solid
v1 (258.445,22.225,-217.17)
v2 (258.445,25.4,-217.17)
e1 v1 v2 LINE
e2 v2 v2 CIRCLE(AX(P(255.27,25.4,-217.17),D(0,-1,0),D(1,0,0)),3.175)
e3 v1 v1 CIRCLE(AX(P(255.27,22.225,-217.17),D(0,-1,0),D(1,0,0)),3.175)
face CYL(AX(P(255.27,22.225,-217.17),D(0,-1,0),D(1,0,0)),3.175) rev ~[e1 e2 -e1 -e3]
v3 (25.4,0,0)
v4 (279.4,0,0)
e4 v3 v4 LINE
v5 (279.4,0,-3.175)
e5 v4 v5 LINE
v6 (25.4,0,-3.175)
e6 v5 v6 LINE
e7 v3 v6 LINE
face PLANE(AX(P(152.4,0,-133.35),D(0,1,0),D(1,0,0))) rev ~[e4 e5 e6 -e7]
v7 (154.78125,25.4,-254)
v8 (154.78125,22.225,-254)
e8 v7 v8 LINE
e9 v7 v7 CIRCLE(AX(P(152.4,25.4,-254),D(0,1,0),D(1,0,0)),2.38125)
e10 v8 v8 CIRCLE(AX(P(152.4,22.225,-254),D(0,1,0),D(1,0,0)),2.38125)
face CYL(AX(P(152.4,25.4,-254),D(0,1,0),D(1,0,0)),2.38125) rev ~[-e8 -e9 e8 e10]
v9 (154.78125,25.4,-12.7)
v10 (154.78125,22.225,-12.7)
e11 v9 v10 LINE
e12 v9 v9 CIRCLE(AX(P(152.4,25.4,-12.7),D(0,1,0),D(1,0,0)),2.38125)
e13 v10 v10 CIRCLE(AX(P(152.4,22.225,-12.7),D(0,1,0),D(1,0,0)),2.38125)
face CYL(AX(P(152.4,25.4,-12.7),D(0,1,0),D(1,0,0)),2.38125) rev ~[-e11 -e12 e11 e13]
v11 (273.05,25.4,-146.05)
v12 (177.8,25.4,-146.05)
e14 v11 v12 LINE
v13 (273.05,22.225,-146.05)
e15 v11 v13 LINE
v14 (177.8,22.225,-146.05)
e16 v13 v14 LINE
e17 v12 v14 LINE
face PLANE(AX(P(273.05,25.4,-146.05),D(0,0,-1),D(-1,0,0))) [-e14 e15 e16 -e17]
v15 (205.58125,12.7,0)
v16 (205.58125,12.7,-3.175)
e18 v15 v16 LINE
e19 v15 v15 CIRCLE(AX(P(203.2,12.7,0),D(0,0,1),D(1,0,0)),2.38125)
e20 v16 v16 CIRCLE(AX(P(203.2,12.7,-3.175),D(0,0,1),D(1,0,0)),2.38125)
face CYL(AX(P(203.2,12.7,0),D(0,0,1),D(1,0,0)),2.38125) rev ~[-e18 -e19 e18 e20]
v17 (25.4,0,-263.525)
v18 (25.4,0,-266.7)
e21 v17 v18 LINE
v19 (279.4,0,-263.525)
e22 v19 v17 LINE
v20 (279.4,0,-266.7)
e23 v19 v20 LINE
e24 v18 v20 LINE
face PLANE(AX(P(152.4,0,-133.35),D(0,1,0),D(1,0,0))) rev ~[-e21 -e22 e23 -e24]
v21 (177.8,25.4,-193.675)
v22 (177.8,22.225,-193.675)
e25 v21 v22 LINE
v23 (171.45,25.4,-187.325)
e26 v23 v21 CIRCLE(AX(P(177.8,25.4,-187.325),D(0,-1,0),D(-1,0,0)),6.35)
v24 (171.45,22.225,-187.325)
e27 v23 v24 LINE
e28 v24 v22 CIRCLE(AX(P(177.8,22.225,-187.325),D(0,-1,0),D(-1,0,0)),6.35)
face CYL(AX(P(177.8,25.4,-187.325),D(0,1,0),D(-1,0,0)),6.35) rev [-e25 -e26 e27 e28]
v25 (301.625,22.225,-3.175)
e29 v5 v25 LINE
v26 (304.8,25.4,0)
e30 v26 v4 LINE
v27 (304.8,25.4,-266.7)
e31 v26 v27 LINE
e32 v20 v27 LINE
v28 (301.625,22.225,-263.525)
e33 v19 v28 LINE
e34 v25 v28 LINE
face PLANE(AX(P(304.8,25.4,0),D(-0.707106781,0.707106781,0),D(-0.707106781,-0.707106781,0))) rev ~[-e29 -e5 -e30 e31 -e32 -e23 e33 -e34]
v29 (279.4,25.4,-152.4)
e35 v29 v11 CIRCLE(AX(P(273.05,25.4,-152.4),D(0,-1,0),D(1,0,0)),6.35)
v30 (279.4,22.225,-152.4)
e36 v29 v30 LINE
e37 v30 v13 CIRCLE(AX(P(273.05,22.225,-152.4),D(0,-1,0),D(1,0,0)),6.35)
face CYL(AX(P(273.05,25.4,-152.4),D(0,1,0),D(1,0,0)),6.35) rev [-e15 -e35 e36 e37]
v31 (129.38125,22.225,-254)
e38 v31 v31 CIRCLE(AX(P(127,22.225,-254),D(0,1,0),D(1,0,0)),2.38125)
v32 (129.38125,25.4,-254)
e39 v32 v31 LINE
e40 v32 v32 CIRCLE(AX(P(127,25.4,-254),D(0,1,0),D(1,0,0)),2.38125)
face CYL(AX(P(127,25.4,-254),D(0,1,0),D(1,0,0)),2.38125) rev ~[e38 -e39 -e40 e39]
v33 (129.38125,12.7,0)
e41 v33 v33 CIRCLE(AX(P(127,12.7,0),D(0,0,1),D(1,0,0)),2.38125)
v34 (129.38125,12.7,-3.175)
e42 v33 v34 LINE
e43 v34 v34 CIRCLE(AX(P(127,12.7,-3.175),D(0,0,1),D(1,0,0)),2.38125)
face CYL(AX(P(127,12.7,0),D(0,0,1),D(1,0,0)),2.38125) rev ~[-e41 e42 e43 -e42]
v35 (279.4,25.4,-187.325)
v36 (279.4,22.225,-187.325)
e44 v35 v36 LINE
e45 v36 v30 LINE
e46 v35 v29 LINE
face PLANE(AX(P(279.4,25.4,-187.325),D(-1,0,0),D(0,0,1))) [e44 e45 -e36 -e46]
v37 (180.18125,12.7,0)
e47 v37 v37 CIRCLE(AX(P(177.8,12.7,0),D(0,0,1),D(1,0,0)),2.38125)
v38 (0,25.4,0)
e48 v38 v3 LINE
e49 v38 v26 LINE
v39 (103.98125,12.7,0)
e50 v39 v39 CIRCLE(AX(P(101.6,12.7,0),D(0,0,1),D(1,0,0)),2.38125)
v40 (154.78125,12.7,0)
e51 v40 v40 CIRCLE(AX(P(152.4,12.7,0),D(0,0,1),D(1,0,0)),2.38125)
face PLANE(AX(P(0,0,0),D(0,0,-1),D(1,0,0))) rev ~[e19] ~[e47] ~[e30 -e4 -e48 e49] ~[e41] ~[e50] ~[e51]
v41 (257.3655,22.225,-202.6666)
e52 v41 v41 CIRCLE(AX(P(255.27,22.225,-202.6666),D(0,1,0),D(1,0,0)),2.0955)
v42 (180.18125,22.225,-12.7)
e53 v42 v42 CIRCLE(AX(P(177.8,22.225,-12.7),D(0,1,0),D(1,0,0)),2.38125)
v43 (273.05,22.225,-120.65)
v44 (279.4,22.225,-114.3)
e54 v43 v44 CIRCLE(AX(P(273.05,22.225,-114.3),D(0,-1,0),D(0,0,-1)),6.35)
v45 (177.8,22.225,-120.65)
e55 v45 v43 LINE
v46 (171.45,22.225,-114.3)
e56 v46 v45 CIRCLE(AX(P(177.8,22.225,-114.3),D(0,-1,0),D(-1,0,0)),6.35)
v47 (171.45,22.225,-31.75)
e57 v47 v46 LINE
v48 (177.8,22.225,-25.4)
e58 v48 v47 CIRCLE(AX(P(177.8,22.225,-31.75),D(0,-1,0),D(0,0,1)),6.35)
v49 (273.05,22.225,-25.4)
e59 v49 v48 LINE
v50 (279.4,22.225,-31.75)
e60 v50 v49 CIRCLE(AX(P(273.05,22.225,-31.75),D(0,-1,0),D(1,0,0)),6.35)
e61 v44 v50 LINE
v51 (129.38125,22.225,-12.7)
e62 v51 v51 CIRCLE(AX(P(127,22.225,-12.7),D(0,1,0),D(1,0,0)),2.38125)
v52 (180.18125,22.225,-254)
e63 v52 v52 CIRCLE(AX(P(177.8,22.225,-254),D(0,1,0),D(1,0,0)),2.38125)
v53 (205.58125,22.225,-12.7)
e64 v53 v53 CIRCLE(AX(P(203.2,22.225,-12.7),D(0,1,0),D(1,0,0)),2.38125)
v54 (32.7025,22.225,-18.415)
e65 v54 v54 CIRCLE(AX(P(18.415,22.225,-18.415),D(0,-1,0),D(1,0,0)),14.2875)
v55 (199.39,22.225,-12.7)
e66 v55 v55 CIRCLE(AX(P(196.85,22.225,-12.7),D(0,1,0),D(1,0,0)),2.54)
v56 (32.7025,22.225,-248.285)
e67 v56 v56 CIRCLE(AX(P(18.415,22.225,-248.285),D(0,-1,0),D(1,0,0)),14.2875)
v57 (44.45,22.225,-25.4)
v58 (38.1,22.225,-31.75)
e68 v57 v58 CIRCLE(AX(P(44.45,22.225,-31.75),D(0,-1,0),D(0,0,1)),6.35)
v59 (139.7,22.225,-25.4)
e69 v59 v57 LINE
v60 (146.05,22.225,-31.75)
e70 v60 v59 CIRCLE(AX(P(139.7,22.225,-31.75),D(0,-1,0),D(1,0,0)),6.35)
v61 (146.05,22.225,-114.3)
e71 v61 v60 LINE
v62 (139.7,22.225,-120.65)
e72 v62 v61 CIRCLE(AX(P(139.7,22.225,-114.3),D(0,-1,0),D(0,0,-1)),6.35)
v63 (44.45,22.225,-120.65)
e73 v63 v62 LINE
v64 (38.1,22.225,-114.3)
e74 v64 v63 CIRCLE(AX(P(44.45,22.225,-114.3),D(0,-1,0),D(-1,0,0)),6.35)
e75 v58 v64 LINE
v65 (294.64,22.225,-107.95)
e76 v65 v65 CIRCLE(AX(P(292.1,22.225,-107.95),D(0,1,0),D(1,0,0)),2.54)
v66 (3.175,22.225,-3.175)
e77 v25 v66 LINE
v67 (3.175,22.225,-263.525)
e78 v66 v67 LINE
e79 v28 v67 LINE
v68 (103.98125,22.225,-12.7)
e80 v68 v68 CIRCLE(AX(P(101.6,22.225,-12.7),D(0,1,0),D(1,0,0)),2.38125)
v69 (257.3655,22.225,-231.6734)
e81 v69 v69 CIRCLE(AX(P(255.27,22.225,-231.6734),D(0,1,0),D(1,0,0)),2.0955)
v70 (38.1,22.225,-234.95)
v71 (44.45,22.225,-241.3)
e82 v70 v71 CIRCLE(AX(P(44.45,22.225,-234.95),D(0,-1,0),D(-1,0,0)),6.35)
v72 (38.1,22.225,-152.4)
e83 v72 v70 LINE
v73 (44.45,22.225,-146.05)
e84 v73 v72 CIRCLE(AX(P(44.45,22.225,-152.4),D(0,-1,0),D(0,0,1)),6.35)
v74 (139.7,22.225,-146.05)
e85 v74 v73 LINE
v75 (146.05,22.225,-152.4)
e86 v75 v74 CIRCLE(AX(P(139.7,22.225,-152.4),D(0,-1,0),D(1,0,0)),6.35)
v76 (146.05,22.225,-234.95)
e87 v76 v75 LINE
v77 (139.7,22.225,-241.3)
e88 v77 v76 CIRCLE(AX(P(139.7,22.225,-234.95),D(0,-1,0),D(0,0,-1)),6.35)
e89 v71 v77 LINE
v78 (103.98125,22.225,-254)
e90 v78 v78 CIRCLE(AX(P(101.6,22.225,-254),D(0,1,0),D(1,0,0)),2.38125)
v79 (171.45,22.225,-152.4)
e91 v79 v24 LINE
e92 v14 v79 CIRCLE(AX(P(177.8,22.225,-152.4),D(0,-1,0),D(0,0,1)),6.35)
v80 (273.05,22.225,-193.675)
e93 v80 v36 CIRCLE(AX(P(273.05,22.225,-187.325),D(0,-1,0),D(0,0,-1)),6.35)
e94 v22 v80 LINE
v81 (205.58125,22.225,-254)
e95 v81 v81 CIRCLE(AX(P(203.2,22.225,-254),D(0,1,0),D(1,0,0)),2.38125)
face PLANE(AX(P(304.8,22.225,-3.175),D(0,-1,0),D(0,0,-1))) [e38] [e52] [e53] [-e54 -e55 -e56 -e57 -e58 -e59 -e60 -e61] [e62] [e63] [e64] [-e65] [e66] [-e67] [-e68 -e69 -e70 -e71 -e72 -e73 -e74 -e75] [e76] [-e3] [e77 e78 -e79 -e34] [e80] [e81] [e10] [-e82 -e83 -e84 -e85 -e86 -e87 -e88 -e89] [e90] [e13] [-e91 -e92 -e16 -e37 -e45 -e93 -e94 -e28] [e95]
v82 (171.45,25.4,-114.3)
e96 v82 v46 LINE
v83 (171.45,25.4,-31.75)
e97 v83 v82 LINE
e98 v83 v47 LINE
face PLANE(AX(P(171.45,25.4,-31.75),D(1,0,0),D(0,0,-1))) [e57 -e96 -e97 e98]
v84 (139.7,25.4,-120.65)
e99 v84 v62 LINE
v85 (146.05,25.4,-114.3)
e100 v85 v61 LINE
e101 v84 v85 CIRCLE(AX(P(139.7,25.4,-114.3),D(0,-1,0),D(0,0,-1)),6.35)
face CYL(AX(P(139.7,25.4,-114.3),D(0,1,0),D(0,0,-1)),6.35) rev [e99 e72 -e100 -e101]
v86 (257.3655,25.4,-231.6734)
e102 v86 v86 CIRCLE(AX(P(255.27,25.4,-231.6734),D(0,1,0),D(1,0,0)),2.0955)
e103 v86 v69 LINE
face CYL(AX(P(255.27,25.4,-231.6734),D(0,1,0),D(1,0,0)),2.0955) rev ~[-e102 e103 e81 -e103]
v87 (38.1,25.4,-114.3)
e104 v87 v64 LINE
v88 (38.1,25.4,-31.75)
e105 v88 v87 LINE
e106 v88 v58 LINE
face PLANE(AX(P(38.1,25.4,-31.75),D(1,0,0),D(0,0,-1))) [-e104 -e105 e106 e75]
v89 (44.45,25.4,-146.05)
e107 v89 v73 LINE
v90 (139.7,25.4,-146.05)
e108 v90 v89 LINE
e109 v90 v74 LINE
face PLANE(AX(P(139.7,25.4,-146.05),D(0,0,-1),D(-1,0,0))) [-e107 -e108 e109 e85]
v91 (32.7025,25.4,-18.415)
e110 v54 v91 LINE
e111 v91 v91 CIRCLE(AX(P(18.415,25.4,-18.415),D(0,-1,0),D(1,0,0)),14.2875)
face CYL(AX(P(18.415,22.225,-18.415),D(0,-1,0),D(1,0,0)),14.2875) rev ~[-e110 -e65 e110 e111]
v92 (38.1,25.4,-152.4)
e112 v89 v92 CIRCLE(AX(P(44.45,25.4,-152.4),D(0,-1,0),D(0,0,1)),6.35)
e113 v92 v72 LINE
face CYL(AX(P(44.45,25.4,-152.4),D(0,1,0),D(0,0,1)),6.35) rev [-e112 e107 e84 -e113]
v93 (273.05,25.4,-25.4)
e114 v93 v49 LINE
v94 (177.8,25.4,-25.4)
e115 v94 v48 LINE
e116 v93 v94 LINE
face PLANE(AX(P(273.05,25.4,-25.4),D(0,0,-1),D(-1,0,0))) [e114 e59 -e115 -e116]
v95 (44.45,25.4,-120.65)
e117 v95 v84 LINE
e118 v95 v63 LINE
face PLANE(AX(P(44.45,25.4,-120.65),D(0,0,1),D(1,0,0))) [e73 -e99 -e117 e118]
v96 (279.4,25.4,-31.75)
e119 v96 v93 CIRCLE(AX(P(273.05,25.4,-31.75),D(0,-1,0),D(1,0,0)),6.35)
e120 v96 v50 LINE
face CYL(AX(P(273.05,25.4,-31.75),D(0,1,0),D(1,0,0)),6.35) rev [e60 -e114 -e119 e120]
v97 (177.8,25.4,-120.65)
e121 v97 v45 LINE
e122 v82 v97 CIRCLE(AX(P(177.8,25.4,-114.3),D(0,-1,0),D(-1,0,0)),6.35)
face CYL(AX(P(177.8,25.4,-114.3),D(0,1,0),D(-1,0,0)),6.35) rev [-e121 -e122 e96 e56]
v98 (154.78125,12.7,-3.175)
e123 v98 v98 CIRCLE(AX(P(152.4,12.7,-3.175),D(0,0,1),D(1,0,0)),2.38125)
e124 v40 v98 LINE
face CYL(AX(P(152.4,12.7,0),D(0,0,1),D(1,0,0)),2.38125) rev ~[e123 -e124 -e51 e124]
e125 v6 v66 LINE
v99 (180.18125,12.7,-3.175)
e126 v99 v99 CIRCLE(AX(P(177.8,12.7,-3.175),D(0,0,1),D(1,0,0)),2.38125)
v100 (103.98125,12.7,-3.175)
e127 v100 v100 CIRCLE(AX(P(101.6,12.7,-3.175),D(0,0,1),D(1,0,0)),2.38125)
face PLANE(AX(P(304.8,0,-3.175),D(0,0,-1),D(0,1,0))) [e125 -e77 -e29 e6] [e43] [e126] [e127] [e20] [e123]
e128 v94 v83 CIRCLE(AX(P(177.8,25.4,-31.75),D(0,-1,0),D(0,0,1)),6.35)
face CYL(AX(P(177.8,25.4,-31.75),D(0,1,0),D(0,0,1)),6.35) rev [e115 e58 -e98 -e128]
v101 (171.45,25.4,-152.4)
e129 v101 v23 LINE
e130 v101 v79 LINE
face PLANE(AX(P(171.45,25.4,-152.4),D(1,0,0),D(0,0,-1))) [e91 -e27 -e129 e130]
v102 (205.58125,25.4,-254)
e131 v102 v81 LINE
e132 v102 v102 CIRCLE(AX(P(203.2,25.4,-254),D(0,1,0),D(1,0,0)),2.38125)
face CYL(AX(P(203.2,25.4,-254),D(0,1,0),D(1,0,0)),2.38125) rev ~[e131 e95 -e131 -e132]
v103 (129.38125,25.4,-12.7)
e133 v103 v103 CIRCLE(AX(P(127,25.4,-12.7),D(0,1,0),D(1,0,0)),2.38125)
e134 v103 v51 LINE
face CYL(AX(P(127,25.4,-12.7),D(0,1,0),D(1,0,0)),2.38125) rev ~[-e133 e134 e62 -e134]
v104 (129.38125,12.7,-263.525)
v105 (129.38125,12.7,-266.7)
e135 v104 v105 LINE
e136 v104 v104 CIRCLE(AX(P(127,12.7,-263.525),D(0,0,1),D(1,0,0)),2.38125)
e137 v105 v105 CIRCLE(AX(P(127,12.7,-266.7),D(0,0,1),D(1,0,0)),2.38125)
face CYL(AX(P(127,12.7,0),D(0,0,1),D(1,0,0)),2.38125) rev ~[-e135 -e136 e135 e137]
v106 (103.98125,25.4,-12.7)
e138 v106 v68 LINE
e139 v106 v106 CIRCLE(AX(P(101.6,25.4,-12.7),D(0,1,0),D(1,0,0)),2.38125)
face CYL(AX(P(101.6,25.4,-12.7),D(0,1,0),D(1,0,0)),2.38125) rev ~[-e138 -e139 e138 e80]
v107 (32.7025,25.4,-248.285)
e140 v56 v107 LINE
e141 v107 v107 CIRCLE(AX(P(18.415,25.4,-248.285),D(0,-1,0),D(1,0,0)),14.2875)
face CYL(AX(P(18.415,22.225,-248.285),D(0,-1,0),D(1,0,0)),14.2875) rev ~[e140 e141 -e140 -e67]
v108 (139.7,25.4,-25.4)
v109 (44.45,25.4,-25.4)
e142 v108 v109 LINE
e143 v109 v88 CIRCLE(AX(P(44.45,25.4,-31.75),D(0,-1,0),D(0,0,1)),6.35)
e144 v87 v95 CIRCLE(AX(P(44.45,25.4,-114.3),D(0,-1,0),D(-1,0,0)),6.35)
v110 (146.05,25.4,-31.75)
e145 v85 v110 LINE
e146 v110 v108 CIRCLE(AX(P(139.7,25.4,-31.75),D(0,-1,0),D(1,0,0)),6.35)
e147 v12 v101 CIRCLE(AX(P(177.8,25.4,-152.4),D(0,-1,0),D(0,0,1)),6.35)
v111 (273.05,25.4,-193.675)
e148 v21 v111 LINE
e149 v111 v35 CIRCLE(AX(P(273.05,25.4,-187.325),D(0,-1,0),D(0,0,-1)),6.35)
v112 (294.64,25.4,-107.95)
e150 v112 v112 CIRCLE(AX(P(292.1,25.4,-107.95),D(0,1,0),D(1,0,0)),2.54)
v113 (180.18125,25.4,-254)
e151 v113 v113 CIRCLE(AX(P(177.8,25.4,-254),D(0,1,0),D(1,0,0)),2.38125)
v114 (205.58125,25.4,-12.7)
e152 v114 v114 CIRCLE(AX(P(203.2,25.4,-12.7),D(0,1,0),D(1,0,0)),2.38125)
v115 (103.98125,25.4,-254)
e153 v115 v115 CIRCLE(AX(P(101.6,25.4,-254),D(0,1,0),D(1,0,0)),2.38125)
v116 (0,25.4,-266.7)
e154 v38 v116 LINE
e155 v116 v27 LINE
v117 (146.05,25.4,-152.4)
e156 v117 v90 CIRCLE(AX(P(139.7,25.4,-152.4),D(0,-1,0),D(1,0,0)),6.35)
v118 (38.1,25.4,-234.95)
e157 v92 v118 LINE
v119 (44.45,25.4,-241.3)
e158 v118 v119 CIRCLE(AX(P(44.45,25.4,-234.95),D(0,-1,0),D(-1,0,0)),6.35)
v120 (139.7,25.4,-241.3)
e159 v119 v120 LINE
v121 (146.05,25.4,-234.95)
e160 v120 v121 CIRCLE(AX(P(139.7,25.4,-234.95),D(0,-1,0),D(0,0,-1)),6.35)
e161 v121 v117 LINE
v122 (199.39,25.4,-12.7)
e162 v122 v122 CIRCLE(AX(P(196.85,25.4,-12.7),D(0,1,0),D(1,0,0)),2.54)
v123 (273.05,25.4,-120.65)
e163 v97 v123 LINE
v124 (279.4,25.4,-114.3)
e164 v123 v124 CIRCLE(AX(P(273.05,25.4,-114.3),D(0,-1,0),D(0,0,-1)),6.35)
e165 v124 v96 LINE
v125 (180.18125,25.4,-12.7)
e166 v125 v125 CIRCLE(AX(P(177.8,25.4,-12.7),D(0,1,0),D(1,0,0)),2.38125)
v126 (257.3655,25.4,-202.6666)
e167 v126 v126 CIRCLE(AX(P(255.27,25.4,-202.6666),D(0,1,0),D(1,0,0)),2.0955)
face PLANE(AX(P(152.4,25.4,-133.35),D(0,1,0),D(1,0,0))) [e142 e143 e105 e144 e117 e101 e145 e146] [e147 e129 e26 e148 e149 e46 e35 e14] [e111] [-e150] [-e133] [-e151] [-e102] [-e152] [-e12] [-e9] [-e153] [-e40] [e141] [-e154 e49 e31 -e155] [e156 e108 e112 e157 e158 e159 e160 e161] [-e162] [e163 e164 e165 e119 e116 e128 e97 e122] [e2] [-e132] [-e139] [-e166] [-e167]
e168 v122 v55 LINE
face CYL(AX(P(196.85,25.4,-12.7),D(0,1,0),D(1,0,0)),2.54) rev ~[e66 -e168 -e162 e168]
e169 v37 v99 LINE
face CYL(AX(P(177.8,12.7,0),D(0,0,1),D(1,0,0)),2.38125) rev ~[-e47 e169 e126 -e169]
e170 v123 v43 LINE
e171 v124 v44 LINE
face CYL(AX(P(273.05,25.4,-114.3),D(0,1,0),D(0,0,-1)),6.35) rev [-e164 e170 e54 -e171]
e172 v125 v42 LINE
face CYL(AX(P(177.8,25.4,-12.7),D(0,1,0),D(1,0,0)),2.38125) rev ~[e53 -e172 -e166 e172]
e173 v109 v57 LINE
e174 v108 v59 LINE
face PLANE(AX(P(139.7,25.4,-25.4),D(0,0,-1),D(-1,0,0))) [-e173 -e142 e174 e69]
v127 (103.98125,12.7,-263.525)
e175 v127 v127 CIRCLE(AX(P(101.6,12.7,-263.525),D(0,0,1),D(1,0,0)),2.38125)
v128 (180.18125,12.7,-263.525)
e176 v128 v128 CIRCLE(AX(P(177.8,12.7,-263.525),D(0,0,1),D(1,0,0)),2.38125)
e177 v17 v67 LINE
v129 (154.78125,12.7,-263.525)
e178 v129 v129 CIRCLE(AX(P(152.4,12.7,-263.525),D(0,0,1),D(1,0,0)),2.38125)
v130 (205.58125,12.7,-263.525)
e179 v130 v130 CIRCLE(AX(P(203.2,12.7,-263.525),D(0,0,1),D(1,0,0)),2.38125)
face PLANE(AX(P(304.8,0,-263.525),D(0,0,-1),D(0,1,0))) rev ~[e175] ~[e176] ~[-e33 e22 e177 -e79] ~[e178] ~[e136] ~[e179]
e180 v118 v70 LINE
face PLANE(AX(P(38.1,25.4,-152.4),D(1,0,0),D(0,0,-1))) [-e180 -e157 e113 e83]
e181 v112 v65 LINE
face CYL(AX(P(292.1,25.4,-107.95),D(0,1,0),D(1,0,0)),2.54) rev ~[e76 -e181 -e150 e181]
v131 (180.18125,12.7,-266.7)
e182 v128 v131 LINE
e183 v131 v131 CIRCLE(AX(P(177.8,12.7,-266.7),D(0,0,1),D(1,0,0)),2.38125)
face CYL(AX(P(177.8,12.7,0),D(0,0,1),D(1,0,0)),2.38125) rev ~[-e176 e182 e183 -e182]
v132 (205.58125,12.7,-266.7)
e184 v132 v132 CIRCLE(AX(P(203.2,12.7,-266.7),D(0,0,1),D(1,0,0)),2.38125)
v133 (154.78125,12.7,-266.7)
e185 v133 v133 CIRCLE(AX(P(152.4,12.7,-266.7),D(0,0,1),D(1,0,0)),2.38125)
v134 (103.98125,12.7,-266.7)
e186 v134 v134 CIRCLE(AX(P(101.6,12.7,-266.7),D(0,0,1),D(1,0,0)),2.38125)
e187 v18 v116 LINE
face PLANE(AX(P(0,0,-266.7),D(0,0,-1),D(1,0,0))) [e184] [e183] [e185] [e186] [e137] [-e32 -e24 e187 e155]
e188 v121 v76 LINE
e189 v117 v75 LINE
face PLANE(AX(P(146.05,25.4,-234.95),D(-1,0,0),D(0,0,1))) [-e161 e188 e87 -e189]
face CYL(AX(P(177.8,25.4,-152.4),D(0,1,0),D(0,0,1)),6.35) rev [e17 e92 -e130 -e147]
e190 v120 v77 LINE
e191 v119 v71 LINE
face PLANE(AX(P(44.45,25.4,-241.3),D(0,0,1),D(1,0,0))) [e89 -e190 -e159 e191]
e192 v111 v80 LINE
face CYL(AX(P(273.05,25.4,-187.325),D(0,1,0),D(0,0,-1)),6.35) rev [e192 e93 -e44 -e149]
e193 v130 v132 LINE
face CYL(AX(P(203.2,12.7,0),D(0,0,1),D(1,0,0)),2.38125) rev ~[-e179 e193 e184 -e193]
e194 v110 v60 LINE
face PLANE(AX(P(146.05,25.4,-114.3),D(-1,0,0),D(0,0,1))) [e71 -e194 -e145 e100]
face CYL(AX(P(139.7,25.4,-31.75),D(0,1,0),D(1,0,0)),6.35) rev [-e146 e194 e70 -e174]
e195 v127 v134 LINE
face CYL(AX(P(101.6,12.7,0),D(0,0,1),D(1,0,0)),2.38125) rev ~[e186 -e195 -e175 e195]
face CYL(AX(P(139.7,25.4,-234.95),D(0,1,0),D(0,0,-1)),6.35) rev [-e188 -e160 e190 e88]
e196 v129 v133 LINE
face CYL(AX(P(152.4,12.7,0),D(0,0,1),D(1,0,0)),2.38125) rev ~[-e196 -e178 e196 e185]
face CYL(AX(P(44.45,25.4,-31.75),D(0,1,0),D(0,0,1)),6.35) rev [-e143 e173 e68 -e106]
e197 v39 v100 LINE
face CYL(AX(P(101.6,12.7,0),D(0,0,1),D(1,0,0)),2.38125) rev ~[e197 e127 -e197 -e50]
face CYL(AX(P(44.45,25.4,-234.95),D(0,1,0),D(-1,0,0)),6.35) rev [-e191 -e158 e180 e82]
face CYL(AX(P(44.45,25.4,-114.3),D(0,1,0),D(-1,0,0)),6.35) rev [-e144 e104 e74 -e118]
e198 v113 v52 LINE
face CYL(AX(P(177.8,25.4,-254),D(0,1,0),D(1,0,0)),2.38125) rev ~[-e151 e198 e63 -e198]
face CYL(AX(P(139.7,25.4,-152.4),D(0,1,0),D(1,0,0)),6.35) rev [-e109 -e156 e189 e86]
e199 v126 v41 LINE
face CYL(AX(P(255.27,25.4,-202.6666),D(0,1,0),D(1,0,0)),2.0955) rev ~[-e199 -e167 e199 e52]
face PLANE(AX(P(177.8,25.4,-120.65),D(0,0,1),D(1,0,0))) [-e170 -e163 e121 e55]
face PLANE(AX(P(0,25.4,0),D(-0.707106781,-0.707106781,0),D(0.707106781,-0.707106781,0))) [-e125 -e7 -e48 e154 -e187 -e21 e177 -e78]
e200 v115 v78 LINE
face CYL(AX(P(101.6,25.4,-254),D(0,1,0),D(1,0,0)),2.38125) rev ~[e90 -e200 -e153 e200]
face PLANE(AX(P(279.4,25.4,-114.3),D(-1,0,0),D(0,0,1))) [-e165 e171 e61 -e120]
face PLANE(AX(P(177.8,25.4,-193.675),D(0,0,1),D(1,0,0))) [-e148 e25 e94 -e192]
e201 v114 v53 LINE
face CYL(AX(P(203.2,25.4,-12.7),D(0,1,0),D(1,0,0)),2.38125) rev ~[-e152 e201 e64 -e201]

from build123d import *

# Parameters (mm, degrees)
SKETCH2_W           = 304.8
SKETCH2_H           = 266.7
BOSS_EXTRUDE1_DEPTH = 25.4
SKETCH12_W          = 260.35
SKETCH12_H          = 22.225
CUT_EXTRUDE8_DEPTH  = 305.8
CUT_EXTRUDE9_DEPTH  = 267.7
SKETCH14_R          = 14.2875
SKETCH14_R_2        = 3.175
CUT_EXTRUDE10_DEPTH = 4.175
CUT_EXTRUDE11_DEPTH = 3.175
SKETCH16_R          = 2.38125
CUT_EXTRUDE12_DEPTH = 267.7
SKETCH17_R          = 2.38125
CUT_EXTRUDE13_DEPTH = 26.4
SKETCH18_R          = 2.0955
CUT_EXTRUDE14_DEPTH = 3.175
SKETCH19_R          = 2.54
CUT_EXTRUDE15_DEPTH = 26.4
SKETCH20_R          = 2.54
CUT_EXTRUDE16_DEPTH = 26.4


with BuildPart() as part:
    # Sketch2 → Boss-Extrude1 (new body)
    with BuildSketch(Plane(origin=(0, 0, 0), x_dir=(1, 0, 0), z_dir=(0, 1, 0))):
        with Locations((152.4, 133.35)):
            Rectangle(SKETCH2_W, SKETCH2_H)
    extrude(amount=BOSS_EXTRUDE1_DEPTH)

    # Sketch12 → Cut-Extrude8 (cut, through all)
    with BuildSketch(Plane(origin=(304.8, 0, 0), x_dir=(0, 0, -1), z_dir=(1, 0, 0))):
        with Locations((133.35, 11.1125)):
            Rectangle(SKETCH12_W, SKETCH12_H)
    extrude(amount=-CUT_EXTRUDE8_DEPTH, mode=Mode.SUBTRACT)

    # Sketch13 → Cut-Extrude9 (cut, through all)
    with BuildSketch(Plane.XY):
        Polygon((304.8, 25.4), (279.4, 0), (304.8, 0), align=None)
        Polygon((0, 0), (0, 25.4), (25.4, 0), align=None)
    extrude(amount=-CUT_EXTRUDE9_DEPTH, mode=Mode.SUBTRACT)

    # Sketch14 → Cut-Extrude10 (cut, through all)
    with BuildSketch(Plane.XZ.offset(-22.225)):
        with Locations((18.415, -18.415)):
            Circle(SKETCH14_R)
        with Locations((18.415, -248.285)):
            Circle(SKETCH14_R)
        with Locations((255.27, -217.17)):
            Circle(SKETCH14_R_2)
    extrude(amount=-CUT_EXTRUDE10_DEPTH, mode=Mode.SUBTRACT)

    # Sketch15 → Cut-Extrude11 (cut)
    with BuildSketch(Plane(origin=(0, 25.4, 0), x_dir=(1, 0, 0), z_dir=(0, 1, 0))):
        with BuildLine():
            Line((44.45, 241.3), (139.7, 241.3))
            ThreePointArc((139.7, 241.3), (144.190128061, 239.440128061), (146.05, 234.95))
            Line((146.05, 234.95), (146.05, 152.4))
            ThreePointArc((146.05, 152.4), (144.190128061, 147.909871939), (139.7, 146.05))
            Line((139.7, 146.05), (44.45, 146.05))
            ThreePointArc((44.45, 146.05), (39.959871939, 147.909871939), (38.1, 152.4))
            Line((38.1, 152.4), (38.1, 234.95))
            ThreePointArc((38.1, 234.95), (39.959871939, 239.440128061), (44.45, 241.3))
        make_face()
        with BuildLine():
            Line((44.45, 120.65), (139.7, 120.65))
            ThreePointArc((139.7, 120.65), (144.190128061, 118.790128061), (146.05, 114.3))
            Line((146.05, 114.3), (146.05, 31.75))
            ThreePointArc((146.05, 31.75), (144.190128061, 27.259871939), (139.7, 25.4))
            Line((139.7, 25.4), (44.45, 25.4))
            ThreePointArc((44.45, 25.4), (39.959871939, 27.259871939), (38.1, 31.75))
            Line((38.1, 31.75), (38.1, 114.3))
            ThreePointArc((38.1, 114.3), (39.959871939, 118.790128061), (44.45, 120.65))
        make_face()
        with BuildLine():
            Line((177.8, 193.675), (273.05, 193.675))
            ThreePointArc((273.05, 193.675), (277.540128061, 191.815128061), (279.4, 187.325))
            Line((279.4, 187.325), (279.4, 152.4))
            ThreePointArc((279.4, 152.4), (277.540128061, 147.909871939), (273.05, 146.05))
            Line((273.05, 146.05), (177.8, 146.05))
            ThreePointArc((177.8, 146.05), (173.309871939, 147.909871939), (171.45, 152.4))
            Line((171.45, 152.4), (171.45, 187.325))
            ThreePointArc((171.45, 187.325), (173.309871939, 191.815128061), (177.8, 193.675))
        make_face()
        with BuildLine():
            Line((177.8, 120.65), (273.05, 120.65))
            ThreePointArc((273.05, 120.65), (277.540128061, 118.790128061), (279.4, 114.3))
            Line((279.4, 114.3), (279.4, 31.75))
            ThreePointArc((279.4, 31.75), (277.540128061, 27.259871939), (273.05, 25.4))
            Line((273.05, 25.4), (177.8, 25.4))
            ThreePointArc((177.8, 25.4), (173.309871939, 27.259871939), (171.45, 31.75))
            Line((171.45, 31.75), (171.45, 114.3))
            ThreePointArc((171.45, 114.3), (173.309871939, 118.790128061), (177.8, 120.65))
        make_face()
    extrude(amount=-CUT_EXTRUDE11_DEPTH, mode=Mode.SUBTRACT)

    # Sketch16 → Cut-Extrude12 (cut, through all)
    with BuildSketch(Plane.XY):
        with Locations((152.4, 12.7)):
            Circle(SKETCH16_R)
        with Locations((127, 12.7)):
            Circle(SKETCH16_R)
        with Locations((101.6, 12.7)):
            Circle(SKETCH16_R)
        with Locations((177.8, 12.7)):
            Circle(SKETCH16_R)
        with Locations((203.2, 12.7)):
            Circle(SKETCH16_R)
    extrude(amount=-CUT_EXTRUDE12_DEPTH, mode=Mode.SUBTRACT)

    # Sketch17 → Cut-Extrude13 (cut, through all)
    with BuildSketch(Plane(origin=(0, 25.4, 0), x_dir=(1, 0, 0), z_dir=(0, 1, 0))):
        with Locations((152.4, 12.7)):
            Circle(SKETCH17_R)
        with Locations((177.8, 12.7)):
            Circle(SKETCH17_R)
        with Locations((203.2, 12.7)):
            Circle(SKETCH17_R)
        with Locations((127, 12.7)):
            Circle(SKETCH17_R)
        with Locations((101.6, 12.7)):
            Circle(SKETCH17_R)
        with Locations((203.2, 254)):
            Circle(SKETCH17_R)
        with Locations((177.8, 254)):
            Circle(SKETCH17_R)
        with Locations((152.4, 254)):
            Circle(SKETCH17_R)
        with Locations((127, 254)):
            Circle(SKETCH17_R)
        with Locations((101.6, 254)):
            Circle(SKETCH17_R)
    extrude(amount=-CUT_EXTRUDE13_DEPTH, mode=Mode.SUBTRACT)

    # Sketch18 → Cut-Extrude14 (cut)
    with BuildSketch(Plane(origin=(0, 25.4, 0), x_dir=(1, 0, 0), z_dir=(0, 1, 0))):
        with Locations((255.27, 231.6734)):
            Circle(SKETCH18_R)
        with Locations((255.27, 202.6666)):
            Circle(SKETCH18_R)
    extrude(amount=-CUT_EXTRUDE14_DEPTH, mode=Mode.SUBTRACT)

    # Sketch19 → Cut-Extrude15 (cut, through all)
    with BuildSketch(Plane(origin=(0, 25.4, 0), x_dir=(1, 0, 0), z_dir=(0, 1, 0))):
        with Locations((196.85, 12.7)):
            Circle(SKETCH19_R)
    extrude(amount=-CUT_EXTRUDE15_DEPTH, mode=Mode.SUBTRACT)

    # Sketch20 → Cut-Extrude16 (cut, through all)
    with BuildSketch(Plane(origin=(0, 25.4, 0), x_dir=(1, 0, 0), z_dir=(0, 1, 0))):
        with Locations((292.1, 107.95)):
            Circle(SKETCH20_R)
    extrude(amount=-CUT_EXTRUDE16_DEPTH, mode=Mode.SUBTRACT)


solid = part.part
